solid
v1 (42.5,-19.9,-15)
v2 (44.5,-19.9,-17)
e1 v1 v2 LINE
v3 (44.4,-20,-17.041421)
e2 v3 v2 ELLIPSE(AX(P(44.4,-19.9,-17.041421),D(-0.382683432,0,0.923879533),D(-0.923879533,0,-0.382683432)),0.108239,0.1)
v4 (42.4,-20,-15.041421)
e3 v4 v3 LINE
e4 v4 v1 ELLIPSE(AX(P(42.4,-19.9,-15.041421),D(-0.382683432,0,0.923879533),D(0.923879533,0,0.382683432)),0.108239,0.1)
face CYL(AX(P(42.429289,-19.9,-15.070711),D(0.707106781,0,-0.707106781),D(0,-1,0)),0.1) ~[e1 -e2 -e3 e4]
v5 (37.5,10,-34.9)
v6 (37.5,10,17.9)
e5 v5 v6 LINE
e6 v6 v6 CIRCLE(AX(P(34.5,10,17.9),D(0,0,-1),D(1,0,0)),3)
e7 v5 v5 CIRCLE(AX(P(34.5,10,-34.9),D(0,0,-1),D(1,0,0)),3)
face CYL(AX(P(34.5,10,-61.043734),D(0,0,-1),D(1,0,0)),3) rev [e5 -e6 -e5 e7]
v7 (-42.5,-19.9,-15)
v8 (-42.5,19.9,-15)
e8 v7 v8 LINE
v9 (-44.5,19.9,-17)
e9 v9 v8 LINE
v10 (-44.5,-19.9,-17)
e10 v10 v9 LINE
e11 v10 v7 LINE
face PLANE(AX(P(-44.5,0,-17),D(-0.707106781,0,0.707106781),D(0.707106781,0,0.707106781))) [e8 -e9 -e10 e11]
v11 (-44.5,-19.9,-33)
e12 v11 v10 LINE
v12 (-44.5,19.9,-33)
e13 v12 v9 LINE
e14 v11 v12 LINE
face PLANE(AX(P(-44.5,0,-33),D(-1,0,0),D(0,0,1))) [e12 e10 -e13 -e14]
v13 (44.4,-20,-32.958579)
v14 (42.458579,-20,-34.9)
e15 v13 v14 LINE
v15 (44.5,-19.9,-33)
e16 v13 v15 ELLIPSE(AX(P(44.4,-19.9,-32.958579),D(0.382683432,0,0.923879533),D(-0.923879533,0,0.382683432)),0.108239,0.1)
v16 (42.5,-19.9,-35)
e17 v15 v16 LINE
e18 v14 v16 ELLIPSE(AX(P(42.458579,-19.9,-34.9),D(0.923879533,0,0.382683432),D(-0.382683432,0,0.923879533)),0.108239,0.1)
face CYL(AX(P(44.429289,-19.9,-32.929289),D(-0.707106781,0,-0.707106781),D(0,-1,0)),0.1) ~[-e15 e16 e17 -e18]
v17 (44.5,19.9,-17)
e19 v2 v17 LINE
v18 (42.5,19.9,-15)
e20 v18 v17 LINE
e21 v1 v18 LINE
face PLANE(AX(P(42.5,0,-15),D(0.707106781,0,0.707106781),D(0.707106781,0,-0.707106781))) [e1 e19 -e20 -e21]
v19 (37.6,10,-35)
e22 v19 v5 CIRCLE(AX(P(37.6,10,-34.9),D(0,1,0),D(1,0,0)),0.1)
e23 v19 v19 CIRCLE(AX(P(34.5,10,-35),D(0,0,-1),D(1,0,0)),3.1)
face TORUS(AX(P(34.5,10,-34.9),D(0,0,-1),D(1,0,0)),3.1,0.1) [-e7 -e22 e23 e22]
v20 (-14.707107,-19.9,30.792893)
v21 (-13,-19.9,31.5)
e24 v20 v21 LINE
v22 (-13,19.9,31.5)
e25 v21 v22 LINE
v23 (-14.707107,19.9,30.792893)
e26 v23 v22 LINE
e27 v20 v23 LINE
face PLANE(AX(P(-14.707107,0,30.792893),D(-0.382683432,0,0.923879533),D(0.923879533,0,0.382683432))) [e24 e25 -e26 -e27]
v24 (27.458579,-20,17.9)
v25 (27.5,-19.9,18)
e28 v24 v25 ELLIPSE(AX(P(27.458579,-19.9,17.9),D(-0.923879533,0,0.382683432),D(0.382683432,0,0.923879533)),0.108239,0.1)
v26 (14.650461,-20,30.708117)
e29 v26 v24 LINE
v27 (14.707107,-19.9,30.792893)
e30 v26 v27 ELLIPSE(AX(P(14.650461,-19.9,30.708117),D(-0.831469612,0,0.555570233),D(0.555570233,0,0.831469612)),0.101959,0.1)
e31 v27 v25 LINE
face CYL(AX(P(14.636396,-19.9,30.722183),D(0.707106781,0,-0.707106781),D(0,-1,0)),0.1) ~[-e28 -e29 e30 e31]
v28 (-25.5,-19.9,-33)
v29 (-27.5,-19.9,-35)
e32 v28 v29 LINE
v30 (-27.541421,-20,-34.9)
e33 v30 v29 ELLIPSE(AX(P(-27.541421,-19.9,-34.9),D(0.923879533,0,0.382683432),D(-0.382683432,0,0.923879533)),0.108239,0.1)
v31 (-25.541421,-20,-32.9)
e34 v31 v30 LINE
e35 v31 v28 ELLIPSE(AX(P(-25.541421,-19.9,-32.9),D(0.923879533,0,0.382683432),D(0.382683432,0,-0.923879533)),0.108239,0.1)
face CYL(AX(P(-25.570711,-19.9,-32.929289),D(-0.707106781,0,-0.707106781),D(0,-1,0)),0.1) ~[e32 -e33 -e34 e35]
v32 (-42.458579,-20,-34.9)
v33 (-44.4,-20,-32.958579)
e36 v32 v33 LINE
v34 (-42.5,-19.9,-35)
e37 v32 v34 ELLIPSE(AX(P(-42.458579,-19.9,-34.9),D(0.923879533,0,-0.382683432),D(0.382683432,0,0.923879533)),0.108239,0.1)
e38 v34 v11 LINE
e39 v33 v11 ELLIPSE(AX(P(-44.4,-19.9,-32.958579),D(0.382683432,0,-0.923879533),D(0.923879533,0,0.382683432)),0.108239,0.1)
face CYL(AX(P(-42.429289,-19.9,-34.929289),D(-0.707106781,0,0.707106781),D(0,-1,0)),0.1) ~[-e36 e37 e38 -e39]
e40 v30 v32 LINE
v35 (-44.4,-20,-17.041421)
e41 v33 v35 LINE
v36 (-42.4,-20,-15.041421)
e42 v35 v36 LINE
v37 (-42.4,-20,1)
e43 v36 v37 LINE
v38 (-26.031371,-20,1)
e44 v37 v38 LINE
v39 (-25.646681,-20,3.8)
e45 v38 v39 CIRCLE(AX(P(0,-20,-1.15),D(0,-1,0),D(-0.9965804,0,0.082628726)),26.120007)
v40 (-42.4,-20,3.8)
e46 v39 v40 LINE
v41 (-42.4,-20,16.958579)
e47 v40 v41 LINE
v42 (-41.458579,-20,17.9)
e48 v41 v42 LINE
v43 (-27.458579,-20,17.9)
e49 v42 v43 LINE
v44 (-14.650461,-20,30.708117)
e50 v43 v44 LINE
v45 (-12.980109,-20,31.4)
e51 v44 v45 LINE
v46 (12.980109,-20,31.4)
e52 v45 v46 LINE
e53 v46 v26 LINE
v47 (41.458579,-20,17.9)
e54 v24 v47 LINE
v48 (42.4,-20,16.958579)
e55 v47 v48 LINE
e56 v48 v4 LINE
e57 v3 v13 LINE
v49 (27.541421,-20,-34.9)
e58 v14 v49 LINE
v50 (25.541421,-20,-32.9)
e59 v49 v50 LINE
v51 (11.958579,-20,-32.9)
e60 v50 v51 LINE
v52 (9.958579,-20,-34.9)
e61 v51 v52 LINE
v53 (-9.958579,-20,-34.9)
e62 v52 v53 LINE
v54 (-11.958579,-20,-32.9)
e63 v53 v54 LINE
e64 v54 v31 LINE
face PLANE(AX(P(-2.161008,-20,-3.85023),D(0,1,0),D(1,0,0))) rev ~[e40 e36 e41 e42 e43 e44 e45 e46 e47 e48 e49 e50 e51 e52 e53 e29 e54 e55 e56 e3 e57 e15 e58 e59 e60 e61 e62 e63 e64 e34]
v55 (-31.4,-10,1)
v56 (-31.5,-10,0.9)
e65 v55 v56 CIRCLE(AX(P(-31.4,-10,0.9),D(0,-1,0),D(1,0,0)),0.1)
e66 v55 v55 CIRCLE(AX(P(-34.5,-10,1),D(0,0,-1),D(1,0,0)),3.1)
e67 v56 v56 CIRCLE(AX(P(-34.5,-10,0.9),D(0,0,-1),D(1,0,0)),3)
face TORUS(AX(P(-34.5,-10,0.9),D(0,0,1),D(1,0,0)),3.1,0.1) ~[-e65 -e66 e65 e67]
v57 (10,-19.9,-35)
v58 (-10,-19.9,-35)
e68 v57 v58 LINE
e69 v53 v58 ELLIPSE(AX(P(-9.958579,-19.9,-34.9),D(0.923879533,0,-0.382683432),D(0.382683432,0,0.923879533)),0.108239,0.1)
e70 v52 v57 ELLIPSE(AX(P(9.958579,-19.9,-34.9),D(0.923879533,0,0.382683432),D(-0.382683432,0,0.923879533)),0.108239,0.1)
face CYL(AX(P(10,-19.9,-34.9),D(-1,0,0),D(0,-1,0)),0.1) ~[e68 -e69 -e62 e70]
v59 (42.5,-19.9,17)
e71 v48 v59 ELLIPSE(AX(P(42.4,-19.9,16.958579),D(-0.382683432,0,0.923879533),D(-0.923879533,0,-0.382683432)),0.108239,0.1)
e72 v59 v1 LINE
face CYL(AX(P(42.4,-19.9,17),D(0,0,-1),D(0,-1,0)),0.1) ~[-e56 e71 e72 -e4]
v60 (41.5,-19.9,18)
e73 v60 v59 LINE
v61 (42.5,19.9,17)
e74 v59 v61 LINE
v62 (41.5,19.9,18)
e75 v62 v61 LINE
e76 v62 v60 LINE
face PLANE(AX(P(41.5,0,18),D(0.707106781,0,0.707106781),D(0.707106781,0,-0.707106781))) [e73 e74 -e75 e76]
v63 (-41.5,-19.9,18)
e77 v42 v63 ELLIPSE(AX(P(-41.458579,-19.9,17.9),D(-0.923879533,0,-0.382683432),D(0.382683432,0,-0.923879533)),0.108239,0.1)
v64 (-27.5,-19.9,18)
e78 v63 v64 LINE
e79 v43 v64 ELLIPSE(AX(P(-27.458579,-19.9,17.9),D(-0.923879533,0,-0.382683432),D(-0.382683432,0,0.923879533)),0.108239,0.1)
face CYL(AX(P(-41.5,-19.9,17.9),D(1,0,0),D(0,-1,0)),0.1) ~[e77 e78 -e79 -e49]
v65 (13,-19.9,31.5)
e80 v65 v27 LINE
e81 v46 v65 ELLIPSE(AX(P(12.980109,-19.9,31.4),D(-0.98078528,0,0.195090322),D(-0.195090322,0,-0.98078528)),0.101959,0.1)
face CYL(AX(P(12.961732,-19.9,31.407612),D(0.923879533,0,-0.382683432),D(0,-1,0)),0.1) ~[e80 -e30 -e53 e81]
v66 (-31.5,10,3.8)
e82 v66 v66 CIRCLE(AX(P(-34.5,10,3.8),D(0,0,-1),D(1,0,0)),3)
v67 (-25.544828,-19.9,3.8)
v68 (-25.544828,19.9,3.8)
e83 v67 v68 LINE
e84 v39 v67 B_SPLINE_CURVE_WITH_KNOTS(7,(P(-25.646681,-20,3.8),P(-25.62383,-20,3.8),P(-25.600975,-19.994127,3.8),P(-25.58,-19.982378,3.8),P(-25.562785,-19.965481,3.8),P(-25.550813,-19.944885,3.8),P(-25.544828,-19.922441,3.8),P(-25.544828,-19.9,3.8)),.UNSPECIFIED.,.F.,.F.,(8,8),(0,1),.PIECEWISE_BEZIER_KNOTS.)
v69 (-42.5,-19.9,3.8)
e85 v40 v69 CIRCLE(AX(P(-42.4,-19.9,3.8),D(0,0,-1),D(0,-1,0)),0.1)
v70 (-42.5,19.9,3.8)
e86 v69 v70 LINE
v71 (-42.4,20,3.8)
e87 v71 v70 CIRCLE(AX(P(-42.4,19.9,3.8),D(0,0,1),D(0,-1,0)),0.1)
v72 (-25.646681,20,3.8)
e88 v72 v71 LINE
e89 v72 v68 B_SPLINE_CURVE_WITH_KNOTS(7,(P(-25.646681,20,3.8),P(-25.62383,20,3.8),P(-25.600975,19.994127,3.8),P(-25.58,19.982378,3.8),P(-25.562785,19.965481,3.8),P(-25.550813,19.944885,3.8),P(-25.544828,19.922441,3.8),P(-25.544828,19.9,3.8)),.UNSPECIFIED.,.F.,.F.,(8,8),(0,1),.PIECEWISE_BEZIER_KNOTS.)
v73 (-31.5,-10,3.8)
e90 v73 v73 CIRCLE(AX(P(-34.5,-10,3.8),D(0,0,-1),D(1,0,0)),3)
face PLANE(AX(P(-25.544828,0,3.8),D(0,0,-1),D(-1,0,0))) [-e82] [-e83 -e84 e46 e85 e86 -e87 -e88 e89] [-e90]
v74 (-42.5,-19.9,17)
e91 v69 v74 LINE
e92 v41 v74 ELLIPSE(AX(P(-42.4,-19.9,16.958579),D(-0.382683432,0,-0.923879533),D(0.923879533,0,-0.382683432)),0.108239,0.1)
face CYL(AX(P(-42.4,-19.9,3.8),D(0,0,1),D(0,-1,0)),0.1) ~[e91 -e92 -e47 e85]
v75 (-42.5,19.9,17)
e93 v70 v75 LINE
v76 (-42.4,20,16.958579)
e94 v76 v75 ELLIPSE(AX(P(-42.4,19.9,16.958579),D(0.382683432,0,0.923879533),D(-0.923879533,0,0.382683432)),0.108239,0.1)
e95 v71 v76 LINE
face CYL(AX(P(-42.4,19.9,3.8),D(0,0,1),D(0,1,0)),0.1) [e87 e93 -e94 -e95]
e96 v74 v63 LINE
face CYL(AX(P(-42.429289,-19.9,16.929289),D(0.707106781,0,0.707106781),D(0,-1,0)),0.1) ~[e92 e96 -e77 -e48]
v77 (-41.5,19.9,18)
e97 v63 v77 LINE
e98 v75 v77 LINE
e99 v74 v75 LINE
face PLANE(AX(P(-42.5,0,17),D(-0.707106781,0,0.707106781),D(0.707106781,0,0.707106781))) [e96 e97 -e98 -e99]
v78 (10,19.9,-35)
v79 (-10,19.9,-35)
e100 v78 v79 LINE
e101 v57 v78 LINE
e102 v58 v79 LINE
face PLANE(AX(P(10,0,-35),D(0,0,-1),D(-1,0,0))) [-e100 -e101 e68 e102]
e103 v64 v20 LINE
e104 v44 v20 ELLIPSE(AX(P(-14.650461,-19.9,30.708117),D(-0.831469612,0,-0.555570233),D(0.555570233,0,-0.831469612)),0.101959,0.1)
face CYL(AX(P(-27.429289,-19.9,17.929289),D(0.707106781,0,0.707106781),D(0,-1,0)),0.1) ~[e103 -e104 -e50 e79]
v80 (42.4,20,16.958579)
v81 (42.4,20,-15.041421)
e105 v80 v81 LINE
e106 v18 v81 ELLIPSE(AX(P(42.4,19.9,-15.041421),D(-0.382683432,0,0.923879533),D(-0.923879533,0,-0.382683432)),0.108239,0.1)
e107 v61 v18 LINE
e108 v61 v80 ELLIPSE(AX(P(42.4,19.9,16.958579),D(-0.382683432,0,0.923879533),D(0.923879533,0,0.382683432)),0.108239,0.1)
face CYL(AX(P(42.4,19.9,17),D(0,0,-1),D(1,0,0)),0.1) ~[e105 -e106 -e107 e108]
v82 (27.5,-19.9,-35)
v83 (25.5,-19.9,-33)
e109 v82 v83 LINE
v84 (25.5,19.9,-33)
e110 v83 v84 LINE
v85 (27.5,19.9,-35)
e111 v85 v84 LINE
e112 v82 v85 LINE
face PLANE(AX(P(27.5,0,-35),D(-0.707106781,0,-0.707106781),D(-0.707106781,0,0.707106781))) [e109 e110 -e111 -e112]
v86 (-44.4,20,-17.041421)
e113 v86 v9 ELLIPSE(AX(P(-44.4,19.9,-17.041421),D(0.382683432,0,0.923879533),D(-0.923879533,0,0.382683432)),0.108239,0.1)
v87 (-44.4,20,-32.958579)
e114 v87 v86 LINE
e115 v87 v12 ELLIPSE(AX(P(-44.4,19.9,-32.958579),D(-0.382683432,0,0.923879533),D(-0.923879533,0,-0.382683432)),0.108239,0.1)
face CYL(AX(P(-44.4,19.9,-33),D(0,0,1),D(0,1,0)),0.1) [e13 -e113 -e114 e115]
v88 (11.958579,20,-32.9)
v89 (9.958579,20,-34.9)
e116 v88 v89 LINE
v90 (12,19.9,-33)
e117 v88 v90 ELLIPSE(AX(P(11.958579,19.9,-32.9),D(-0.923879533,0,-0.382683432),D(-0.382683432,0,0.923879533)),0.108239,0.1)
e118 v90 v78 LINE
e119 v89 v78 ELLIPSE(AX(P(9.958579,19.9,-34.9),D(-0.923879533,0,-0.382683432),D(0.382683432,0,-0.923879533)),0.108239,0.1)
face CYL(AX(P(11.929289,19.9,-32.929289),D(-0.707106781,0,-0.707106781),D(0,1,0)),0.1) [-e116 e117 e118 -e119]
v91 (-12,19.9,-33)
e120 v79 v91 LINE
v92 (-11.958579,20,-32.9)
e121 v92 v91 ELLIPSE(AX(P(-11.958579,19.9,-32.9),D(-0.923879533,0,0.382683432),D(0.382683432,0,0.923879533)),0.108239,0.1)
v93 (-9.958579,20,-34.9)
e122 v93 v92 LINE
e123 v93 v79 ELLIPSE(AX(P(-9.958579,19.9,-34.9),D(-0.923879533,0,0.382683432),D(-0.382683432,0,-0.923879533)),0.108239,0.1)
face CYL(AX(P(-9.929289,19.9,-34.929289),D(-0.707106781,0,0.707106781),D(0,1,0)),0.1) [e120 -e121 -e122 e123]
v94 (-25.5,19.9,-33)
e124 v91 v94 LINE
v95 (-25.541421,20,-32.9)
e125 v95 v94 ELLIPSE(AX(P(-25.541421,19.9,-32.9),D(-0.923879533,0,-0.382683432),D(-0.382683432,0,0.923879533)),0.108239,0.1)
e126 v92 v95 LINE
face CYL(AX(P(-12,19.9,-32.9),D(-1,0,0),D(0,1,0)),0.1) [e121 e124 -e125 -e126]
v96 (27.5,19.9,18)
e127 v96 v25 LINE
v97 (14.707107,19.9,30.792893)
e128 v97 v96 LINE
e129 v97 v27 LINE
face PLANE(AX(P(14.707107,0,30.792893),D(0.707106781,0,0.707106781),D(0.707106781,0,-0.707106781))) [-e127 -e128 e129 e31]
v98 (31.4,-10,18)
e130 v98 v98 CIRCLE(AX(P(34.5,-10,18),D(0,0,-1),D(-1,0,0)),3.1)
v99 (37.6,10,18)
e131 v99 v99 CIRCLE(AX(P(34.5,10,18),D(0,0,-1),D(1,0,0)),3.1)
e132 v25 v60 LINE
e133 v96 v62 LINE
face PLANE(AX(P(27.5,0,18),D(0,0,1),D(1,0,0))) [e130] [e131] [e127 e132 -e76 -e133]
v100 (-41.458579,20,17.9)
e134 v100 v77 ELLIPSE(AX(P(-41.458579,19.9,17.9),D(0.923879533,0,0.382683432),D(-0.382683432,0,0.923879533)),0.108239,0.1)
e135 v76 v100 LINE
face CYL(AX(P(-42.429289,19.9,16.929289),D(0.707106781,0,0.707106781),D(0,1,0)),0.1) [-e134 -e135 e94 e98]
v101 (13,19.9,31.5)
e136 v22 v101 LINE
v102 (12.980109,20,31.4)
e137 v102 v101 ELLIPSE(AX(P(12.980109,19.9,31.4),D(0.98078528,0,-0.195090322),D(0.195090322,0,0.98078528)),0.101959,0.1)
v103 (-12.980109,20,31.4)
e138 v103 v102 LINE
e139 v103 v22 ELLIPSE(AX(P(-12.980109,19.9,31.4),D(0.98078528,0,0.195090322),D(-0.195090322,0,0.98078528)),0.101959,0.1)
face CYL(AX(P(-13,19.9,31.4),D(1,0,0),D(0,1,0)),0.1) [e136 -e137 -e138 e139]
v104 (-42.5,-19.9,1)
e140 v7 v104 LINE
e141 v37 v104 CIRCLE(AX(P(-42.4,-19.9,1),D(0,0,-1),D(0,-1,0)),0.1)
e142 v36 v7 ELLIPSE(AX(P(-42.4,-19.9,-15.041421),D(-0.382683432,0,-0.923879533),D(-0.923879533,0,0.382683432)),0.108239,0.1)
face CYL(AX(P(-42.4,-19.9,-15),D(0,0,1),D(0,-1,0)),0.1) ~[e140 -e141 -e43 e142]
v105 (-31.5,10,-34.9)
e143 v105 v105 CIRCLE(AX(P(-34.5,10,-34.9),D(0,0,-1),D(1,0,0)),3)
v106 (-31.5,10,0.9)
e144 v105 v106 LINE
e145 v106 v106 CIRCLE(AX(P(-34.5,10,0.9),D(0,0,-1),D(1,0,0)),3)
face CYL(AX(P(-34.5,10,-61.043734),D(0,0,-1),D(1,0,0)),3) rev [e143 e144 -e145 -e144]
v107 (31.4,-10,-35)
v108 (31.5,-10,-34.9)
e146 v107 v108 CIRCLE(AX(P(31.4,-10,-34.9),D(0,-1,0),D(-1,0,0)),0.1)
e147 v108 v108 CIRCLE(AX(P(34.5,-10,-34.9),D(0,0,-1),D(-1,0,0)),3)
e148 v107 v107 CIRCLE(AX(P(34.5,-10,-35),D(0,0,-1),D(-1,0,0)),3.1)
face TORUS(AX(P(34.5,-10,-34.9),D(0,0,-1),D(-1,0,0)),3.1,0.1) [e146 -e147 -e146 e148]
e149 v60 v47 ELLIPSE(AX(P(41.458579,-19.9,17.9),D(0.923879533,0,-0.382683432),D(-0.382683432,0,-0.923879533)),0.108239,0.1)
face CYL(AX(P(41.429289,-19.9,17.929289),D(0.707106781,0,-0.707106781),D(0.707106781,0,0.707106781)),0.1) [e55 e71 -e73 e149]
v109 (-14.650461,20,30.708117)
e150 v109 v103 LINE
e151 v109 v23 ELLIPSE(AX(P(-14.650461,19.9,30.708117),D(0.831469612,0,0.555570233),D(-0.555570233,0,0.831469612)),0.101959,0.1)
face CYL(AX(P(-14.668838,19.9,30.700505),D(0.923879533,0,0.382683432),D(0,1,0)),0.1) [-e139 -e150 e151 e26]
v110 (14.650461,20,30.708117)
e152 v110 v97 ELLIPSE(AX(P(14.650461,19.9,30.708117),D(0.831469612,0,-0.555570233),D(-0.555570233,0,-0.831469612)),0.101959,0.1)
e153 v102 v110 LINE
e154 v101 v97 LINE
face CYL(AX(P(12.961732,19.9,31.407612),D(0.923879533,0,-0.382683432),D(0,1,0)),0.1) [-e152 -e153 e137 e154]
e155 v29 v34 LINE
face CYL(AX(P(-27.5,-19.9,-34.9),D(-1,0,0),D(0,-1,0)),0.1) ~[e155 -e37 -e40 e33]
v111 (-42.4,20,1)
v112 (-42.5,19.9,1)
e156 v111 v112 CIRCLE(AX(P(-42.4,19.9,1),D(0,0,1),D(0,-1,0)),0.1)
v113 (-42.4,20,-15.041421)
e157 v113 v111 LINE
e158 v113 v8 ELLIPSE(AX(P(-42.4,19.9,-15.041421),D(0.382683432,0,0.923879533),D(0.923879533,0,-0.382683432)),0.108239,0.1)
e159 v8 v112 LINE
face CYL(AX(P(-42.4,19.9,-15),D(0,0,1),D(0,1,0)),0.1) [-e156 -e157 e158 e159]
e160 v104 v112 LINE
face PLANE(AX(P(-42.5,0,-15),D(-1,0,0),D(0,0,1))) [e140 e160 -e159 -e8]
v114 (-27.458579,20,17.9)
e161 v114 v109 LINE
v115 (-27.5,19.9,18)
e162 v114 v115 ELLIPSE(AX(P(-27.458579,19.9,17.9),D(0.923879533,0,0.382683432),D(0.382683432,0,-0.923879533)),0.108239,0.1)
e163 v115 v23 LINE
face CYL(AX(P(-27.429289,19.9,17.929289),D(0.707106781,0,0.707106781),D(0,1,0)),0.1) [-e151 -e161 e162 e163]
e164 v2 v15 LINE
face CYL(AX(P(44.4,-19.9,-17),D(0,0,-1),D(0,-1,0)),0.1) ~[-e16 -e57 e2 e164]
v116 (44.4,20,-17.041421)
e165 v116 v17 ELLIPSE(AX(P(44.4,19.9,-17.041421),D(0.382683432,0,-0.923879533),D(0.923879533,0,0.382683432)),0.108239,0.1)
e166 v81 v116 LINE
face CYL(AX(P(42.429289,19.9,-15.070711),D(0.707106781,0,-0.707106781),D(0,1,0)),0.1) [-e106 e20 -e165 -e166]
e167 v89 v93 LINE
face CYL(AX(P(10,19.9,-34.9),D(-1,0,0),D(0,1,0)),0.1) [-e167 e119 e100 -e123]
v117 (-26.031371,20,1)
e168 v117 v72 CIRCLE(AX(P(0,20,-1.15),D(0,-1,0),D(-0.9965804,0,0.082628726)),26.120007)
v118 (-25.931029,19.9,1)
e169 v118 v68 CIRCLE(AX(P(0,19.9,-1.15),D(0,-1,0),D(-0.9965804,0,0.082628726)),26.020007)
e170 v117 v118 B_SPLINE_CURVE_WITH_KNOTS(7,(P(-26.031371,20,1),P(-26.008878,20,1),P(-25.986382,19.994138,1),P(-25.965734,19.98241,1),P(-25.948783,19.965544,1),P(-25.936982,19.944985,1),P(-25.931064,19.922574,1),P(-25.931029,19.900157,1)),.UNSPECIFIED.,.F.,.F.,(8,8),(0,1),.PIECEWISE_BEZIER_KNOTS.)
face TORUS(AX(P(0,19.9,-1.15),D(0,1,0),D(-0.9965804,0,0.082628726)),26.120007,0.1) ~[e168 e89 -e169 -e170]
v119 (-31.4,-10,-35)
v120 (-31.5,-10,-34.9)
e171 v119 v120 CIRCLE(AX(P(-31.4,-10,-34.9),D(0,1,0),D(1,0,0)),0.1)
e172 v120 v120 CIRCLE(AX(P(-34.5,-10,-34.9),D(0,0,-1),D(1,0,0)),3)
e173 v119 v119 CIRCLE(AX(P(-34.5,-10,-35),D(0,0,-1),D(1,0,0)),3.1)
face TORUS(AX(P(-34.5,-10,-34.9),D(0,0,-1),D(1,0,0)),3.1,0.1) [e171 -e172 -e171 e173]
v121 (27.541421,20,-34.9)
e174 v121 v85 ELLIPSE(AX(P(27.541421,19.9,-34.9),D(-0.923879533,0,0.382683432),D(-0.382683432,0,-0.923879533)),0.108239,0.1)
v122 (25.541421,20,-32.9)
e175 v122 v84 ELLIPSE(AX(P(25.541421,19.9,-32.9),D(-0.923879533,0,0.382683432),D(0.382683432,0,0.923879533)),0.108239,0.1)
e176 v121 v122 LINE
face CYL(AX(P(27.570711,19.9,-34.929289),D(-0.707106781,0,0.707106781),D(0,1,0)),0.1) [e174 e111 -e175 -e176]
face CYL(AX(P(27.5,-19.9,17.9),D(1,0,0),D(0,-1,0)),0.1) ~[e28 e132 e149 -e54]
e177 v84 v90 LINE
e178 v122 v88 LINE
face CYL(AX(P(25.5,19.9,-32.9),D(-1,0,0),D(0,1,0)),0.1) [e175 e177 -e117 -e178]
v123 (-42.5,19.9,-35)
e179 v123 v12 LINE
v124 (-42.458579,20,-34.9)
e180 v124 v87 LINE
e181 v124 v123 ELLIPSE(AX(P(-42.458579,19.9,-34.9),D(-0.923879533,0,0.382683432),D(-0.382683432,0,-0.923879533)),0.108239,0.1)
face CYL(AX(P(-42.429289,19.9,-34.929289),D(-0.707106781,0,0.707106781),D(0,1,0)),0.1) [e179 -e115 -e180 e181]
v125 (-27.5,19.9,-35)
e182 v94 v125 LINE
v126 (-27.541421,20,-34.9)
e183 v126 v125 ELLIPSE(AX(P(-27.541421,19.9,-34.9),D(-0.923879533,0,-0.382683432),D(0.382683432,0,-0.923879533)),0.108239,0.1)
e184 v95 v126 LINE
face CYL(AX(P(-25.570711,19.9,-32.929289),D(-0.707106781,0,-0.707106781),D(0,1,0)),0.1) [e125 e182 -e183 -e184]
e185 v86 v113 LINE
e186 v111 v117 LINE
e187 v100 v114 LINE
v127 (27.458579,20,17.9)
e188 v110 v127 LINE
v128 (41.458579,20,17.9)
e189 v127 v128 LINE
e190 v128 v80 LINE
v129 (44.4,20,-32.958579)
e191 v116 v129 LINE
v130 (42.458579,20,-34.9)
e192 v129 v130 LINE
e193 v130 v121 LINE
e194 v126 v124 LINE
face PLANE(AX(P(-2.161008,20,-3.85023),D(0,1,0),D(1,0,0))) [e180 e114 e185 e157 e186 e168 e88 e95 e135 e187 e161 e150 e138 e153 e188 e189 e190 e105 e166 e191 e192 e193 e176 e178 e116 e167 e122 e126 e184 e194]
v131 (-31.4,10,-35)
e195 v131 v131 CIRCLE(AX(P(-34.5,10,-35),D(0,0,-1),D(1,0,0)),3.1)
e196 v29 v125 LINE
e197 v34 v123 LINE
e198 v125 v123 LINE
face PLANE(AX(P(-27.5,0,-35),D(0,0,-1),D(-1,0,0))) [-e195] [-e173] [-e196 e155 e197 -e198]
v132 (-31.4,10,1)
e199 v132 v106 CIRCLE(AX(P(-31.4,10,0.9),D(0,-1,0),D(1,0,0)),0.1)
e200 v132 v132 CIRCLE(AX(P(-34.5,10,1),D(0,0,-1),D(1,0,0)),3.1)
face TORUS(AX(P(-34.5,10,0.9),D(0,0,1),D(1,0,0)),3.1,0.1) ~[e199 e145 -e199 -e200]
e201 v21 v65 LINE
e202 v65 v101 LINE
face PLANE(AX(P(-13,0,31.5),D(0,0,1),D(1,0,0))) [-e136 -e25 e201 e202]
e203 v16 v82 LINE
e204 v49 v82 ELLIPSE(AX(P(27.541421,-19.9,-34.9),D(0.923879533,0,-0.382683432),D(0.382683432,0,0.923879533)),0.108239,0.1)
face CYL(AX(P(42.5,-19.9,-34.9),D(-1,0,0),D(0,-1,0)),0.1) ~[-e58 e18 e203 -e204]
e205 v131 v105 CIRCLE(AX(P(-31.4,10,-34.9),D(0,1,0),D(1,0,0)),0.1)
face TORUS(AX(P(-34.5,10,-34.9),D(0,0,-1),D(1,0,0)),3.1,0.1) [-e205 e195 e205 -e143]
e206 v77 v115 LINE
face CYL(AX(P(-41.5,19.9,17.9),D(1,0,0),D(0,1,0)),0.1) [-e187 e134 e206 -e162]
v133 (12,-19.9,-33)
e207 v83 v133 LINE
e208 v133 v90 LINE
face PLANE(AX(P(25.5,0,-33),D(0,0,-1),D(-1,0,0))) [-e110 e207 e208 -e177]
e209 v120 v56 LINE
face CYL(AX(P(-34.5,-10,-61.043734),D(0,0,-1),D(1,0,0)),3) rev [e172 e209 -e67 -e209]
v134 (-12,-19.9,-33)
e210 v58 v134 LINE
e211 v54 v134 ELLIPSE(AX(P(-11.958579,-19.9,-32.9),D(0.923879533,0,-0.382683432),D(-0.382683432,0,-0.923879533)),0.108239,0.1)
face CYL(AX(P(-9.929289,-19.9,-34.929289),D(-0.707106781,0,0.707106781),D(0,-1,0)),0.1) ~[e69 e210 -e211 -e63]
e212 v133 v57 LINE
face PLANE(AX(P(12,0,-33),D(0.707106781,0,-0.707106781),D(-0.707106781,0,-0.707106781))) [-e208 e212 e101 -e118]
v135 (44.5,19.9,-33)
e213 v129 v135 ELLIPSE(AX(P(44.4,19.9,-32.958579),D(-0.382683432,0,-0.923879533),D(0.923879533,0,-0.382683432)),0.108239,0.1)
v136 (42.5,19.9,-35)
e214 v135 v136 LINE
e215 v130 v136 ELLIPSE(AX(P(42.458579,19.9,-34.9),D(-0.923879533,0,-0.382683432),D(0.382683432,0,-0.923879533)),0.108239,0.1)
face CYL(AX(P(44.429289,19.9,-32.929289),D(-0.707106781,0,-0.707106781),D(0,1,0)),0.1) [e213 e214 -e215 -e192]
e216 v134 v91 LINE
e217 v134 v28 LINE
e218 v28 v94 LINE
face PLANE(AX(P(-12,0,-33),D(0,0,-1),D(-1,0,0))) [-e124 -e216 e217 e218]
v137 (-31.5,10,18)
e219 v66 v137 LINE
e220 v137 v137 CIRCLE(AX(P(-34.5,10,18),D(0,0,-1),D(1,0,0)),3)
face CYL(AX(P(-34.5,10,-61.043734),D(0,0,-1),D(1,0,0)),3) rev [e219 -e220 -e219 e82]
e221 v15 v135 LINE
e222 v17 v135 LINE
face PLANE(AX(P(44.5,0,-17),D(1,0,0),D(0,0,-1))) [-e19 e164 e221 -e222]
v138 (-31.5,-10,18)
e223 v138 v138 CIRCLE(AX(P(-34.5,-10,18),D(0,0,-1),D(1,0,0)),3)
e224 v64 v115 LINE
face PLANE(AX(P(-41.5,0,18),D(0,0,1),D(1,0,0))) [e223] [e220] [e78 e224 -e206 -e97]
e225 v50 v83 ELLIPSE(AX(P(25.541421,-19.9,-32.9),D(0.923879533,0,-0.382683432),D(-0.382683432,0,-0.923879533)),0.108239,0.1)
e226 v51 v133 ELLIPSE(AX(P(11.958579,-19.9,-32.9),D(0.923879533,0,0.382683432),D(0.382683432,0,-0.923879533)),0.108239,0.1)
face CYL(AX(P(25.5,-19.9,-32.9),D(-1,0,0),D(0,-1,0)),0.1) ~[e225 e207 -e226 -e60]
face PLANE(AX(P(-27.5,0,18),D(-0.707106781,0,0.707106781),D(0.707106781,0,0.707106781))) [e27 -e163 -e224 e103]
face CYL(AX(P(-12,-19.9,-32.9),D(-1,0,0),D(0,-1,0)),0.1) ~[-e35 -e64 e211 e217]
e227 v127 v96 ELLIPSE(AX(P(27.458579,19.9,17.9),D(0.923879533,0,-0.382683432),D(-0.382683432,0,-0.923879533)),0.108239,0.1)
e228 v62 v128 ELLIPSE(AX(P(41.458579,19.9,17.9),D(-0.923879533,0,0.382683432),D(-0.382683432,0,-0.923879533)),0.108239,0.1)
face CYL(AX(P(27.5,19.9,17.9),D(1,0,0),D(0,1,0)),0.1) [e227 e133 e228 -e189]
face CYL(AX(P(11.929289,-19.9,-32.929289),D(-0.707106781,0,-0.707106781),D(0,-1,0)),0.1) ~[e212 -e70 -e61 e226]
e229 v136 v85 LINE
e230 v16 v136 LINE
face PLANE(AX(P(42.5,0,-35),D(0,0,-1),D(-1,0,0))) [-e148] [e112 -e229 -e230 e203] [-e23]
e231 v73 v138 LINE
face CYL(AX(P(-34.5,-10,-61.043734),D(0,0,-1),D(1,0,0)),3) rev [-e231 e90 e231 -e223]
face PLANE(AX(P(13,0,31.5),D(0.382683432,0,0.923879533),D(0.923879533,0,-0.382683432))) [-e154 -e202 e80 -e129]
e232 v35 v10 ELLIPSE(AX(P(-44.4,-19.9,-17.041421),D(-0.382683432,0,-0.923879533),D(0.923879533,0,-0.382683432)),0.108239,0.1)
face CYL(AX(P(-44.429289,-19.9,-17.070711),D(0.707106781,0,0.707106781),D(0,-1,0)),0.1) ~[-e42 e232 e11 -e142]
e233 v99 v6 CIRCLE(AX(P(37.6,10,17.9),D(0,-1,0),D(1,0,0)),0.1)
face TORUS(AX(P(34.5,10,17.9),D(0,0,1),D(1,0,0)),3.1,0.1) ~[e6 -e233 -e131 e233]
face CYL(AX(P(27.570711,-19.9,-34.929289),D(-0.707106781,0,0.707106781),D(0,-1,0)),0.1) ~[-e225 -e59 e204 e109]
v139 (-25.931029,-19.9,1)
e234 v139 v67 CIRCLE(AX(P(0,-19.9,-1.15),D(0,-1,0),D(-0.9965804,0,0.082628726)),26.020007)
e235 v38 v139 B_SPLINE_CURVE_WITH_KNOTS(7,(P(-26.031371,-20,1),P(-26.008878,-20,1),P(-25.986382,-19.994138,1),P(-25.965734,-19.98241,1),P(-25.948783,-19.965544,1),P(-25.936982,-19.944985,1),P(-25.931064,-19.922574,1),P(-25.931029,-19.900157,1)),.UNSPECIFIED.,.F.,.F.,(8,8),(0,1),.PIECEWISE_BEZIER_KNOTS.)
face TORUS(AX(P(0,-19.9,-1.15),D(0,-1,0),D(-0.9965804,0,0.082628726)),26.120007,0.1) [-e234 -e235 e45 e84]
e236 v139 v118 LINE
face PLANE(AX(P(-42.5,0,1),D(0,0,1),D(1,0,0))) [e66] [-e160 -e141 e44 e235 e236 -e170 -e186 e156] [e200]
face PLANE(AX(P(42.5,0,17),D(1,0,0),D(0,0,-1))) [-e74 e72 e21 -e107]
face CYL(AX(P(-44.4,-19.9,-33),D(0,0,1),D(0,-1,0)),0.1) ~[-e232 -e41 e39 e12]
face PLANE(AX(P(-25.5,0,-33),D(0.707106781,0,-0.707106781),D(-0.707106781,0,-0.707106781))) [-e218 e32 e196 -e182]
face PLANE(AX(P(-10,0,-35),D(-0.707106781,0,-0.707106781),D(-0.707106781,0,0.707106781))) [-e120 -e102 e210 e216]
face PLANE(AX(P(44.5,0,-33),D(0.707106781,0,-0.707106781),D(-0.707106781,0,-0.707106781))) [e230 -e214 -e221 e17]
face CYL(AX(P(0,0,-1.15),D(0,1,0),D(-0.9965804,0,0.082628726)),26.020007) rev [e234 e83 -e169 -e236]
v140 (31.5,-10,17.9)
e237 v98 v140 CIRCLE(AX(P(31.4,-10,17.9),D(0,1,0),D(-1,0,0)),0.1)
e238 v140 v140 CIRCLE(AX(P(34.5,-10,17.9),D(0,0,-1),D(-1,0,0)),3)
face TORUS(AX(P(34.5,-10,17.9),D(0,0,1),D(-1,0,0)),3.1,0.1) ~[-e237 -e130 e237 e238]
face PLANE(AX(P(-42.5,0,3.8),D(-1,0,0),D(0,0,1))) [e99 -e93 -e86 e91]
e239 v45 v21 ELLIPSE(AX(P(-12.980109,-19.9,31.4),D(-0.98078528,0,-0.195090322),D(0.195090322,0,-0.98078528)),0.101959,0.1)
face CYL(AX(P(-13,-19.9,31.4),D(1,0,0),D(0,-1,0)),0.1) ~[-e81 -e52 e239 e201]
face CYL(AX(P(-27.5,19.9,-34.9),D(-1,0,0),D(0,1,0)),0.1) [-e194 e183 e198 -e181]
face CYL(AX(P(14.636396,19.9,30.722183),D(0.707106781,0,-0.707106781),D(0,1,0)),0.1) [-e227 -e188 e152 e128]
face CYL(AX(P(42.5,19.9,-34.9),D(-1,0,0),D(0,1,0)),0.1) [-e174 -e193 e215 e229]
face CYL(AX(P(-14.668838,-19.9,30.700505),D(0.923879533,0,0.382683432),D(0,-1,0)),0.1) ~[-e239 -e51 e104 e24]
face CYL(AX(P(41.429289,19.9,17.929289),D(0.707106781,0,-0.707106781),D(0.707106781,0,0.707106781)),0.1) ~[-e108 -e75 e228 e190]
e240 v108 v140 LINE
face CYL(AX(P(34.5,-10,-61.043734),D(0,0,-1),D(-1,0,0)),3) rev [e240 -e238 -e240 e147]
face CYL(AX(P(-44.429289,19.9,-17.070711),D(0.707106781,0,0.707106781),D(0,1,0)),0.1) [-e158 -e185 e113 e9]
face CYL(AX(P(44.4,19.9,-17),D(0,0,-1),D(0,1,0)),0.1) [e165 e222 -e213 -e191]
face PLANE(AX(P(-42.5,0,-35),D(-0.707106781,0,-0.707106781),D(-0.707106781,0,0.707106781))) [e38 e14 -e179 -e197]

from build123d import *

# Parameters (mm, degrees)
RESSALTO_EXTRUS_O1_DEPTH   = 20
CORTE_EXTRUS_O1_DEPTH      = 61.043734061
CORTE_EXTRUS_O1_DEPTH_BACK = 61.043734061
ESBO_O2_R                  = 3
FILETE1_R                  = 0.1


with BuildPart() as part:
    # Esboço1 → Ressalto-extrusão1 (new, symmetric)
    with BuildSketch(Plane(origin=(0, 0, 0), x_dir=(1, 0, 0), z_dir=(0, 1, 0))):
        with BuildLine():
            Line((41.5, -18), (42.5, -17))
            Line((42.5, -17), (42.5, 15))
            Line((42.5, 15), (44.5, 17))
            Line((44.5, 17), (44.5, 33))
            Line((44.5, 33), (42.5, 35))
            Line((42.5, 35), (27.5, 35))
            Line((27.5, 35), (25.5, 33))
            Line((25.5, 33), (12, 33))
            Line((12, 33), (10, 35))
            Line((10, 35), (-10, 35))
            Line((-10, 35), (-12, 33))
            Line((-12, 33), (-25.5, 33))
            Line((-25.5, 33), (-27.5, 35))
            Line((-27.5, 35), (-42.5, 35))
            Line((-42.5, 35), (-44.5, 33))
            Line((-44.5, 33), (-44.5, 17))
            Line((-44.5, 17), (-42.5, 15))
            Line((-42.5, 15), (-42.5, -1))
            Line((-42.5, -1), (-25.931028754, -1))
            ThreePointArc((-25.931028754, -1), (25.7759765, 4.70524791), (-25.544828287, -3.8))
            Line((-25.544828287, -3.8), (-42.5, -3.8))
            Line((-42.5, -3.8), (-42.5, -17))
            Line((-42.5, -17), (-41.5, -18))
            Line((-41.5, -18), (-27.5, -18))
            Line((-27.5, -18), (-14.707106781, -30.792893219))
            Line((-14.707106781, -30.792893219), (-13, -31.5))
            Line((-13, -31.5), (13, -31.5))
            Line((13, -31.5), (14.707106781, -30.792893219))
            Line((14.707106781, -30.792893219), (27.5, -18))
            Line((27.5, -18), (41.5, -18))
        make_face()
    extrude(amount=RESSALTO_EXTRUS_O1_DEPTH, both=True)

    # Esboço2 → Corte-extrusão1 (cut, two sides: drawn at the far end of the back side and taken through both)
    with BuildSketch(Plane.XY.offset(-CORTE_EXTRUS_O1_DEPTH_BACK)):
        with Locations((34.5, 10)):
            Circle(ESBO_O2_R)
        with Locations(Location((34.5, -10, 0), (0, 0, 180))):
            Circle(ESBO_O2_R)
        with Locations((-34.5, -10)):
            Circle(ESBO_O2_R)
        with Locations((-34.5, 10)):
            Circle(ESBO_O2_R)
    extrude(amount=CORTE_EXTRUS_O1_DEPTH + CORTE_EXTRUS_O1_DEPTH_BACK, mode=Mode.SUBTRACT)

    # Filete1
    filete1_edges = [part.edges().sort_by_distance(p)[0] for p in [
        (42, 20, 17.5),
        (42.5, 20, 1),
        (43.5, 20, -16),
        (44.5, 20, -25),
        (43.5, 20, -34),
        (35, 20, -35),
        (13.853553391, -20, 31.146446609),
        (0, -20, 31.5),
        (-13.853553391, -20, 31.146446609),
        (-21.103553391, -20, 24.396446609),
        (-34.5, -20, 18),
        (-42, -20, 17.5),
        (-42.5, -20, 10.4),
        (26.5, 20, -34),
        (25.7759765, -20, -4.70524791),
        (-42.5, -20, -7),
        (-43.5, -20, -16),
        (-44.5, -20, -25),
        (-43.5, -20, -34),
        (-35, -20, -35),
        (18.75, 20, -33),
        (-26.5, -20, -34),
        (-18.75, -20, -33),
        (-11, -20, -34),
        (0, -20, -35),
        (11, -20, -34),
        (18.75, -20, -33),
        (26.5, -20, -34),
        (11, 20, -34),
        (35, -20, -35),
        (43.5, -20, -34),
        (44.5, -20, -25),
        (43.5, -20, -16),
        (42.5, -20, 1),
        (42, -20, 17.5),
        (34.5, -20, 18),
        (21.103553391, -20, 24.396446609),
        (0, 20, -35),
        (21.103553391, 20, 24.396446609),
        (-11, 20, -34),
        (-18.75, 20, -33),
        (-26.5, 20, -34),
        (-35, 20, -35),
        (-43.5, 20, -34),
        (-44.5, 20, -25),
        (-43.5, 20, -16),
        (-42.5, 20, -7),
        (25.7759765, 20, -4.70524791),
        (34.5, 20, 18),
        (-42.5, 20, 10.4),
        (-42, 20, 17.5),
        (-34.5, 20, 18),
        (-21.103553391, 20, 24.396446609),
        (37.5, -10, -35),
        (-13.853553391, 20, 31.146446609),
        (37.5, -10, 18),
        (31.5, 10, -35),
        (31.5, 10, 18),
        (0, 20, 31.5),
        (-37.5, 10, -35),
        (-37.5, 10, 1),
        (13.853553391, 20, 31.146446609),
        (-37.5, -10, -35),
        (-37.5, -10, 1),
    ]]
    fillet(filete1_edges, radius=FILETE1_R)


solid = part.part
